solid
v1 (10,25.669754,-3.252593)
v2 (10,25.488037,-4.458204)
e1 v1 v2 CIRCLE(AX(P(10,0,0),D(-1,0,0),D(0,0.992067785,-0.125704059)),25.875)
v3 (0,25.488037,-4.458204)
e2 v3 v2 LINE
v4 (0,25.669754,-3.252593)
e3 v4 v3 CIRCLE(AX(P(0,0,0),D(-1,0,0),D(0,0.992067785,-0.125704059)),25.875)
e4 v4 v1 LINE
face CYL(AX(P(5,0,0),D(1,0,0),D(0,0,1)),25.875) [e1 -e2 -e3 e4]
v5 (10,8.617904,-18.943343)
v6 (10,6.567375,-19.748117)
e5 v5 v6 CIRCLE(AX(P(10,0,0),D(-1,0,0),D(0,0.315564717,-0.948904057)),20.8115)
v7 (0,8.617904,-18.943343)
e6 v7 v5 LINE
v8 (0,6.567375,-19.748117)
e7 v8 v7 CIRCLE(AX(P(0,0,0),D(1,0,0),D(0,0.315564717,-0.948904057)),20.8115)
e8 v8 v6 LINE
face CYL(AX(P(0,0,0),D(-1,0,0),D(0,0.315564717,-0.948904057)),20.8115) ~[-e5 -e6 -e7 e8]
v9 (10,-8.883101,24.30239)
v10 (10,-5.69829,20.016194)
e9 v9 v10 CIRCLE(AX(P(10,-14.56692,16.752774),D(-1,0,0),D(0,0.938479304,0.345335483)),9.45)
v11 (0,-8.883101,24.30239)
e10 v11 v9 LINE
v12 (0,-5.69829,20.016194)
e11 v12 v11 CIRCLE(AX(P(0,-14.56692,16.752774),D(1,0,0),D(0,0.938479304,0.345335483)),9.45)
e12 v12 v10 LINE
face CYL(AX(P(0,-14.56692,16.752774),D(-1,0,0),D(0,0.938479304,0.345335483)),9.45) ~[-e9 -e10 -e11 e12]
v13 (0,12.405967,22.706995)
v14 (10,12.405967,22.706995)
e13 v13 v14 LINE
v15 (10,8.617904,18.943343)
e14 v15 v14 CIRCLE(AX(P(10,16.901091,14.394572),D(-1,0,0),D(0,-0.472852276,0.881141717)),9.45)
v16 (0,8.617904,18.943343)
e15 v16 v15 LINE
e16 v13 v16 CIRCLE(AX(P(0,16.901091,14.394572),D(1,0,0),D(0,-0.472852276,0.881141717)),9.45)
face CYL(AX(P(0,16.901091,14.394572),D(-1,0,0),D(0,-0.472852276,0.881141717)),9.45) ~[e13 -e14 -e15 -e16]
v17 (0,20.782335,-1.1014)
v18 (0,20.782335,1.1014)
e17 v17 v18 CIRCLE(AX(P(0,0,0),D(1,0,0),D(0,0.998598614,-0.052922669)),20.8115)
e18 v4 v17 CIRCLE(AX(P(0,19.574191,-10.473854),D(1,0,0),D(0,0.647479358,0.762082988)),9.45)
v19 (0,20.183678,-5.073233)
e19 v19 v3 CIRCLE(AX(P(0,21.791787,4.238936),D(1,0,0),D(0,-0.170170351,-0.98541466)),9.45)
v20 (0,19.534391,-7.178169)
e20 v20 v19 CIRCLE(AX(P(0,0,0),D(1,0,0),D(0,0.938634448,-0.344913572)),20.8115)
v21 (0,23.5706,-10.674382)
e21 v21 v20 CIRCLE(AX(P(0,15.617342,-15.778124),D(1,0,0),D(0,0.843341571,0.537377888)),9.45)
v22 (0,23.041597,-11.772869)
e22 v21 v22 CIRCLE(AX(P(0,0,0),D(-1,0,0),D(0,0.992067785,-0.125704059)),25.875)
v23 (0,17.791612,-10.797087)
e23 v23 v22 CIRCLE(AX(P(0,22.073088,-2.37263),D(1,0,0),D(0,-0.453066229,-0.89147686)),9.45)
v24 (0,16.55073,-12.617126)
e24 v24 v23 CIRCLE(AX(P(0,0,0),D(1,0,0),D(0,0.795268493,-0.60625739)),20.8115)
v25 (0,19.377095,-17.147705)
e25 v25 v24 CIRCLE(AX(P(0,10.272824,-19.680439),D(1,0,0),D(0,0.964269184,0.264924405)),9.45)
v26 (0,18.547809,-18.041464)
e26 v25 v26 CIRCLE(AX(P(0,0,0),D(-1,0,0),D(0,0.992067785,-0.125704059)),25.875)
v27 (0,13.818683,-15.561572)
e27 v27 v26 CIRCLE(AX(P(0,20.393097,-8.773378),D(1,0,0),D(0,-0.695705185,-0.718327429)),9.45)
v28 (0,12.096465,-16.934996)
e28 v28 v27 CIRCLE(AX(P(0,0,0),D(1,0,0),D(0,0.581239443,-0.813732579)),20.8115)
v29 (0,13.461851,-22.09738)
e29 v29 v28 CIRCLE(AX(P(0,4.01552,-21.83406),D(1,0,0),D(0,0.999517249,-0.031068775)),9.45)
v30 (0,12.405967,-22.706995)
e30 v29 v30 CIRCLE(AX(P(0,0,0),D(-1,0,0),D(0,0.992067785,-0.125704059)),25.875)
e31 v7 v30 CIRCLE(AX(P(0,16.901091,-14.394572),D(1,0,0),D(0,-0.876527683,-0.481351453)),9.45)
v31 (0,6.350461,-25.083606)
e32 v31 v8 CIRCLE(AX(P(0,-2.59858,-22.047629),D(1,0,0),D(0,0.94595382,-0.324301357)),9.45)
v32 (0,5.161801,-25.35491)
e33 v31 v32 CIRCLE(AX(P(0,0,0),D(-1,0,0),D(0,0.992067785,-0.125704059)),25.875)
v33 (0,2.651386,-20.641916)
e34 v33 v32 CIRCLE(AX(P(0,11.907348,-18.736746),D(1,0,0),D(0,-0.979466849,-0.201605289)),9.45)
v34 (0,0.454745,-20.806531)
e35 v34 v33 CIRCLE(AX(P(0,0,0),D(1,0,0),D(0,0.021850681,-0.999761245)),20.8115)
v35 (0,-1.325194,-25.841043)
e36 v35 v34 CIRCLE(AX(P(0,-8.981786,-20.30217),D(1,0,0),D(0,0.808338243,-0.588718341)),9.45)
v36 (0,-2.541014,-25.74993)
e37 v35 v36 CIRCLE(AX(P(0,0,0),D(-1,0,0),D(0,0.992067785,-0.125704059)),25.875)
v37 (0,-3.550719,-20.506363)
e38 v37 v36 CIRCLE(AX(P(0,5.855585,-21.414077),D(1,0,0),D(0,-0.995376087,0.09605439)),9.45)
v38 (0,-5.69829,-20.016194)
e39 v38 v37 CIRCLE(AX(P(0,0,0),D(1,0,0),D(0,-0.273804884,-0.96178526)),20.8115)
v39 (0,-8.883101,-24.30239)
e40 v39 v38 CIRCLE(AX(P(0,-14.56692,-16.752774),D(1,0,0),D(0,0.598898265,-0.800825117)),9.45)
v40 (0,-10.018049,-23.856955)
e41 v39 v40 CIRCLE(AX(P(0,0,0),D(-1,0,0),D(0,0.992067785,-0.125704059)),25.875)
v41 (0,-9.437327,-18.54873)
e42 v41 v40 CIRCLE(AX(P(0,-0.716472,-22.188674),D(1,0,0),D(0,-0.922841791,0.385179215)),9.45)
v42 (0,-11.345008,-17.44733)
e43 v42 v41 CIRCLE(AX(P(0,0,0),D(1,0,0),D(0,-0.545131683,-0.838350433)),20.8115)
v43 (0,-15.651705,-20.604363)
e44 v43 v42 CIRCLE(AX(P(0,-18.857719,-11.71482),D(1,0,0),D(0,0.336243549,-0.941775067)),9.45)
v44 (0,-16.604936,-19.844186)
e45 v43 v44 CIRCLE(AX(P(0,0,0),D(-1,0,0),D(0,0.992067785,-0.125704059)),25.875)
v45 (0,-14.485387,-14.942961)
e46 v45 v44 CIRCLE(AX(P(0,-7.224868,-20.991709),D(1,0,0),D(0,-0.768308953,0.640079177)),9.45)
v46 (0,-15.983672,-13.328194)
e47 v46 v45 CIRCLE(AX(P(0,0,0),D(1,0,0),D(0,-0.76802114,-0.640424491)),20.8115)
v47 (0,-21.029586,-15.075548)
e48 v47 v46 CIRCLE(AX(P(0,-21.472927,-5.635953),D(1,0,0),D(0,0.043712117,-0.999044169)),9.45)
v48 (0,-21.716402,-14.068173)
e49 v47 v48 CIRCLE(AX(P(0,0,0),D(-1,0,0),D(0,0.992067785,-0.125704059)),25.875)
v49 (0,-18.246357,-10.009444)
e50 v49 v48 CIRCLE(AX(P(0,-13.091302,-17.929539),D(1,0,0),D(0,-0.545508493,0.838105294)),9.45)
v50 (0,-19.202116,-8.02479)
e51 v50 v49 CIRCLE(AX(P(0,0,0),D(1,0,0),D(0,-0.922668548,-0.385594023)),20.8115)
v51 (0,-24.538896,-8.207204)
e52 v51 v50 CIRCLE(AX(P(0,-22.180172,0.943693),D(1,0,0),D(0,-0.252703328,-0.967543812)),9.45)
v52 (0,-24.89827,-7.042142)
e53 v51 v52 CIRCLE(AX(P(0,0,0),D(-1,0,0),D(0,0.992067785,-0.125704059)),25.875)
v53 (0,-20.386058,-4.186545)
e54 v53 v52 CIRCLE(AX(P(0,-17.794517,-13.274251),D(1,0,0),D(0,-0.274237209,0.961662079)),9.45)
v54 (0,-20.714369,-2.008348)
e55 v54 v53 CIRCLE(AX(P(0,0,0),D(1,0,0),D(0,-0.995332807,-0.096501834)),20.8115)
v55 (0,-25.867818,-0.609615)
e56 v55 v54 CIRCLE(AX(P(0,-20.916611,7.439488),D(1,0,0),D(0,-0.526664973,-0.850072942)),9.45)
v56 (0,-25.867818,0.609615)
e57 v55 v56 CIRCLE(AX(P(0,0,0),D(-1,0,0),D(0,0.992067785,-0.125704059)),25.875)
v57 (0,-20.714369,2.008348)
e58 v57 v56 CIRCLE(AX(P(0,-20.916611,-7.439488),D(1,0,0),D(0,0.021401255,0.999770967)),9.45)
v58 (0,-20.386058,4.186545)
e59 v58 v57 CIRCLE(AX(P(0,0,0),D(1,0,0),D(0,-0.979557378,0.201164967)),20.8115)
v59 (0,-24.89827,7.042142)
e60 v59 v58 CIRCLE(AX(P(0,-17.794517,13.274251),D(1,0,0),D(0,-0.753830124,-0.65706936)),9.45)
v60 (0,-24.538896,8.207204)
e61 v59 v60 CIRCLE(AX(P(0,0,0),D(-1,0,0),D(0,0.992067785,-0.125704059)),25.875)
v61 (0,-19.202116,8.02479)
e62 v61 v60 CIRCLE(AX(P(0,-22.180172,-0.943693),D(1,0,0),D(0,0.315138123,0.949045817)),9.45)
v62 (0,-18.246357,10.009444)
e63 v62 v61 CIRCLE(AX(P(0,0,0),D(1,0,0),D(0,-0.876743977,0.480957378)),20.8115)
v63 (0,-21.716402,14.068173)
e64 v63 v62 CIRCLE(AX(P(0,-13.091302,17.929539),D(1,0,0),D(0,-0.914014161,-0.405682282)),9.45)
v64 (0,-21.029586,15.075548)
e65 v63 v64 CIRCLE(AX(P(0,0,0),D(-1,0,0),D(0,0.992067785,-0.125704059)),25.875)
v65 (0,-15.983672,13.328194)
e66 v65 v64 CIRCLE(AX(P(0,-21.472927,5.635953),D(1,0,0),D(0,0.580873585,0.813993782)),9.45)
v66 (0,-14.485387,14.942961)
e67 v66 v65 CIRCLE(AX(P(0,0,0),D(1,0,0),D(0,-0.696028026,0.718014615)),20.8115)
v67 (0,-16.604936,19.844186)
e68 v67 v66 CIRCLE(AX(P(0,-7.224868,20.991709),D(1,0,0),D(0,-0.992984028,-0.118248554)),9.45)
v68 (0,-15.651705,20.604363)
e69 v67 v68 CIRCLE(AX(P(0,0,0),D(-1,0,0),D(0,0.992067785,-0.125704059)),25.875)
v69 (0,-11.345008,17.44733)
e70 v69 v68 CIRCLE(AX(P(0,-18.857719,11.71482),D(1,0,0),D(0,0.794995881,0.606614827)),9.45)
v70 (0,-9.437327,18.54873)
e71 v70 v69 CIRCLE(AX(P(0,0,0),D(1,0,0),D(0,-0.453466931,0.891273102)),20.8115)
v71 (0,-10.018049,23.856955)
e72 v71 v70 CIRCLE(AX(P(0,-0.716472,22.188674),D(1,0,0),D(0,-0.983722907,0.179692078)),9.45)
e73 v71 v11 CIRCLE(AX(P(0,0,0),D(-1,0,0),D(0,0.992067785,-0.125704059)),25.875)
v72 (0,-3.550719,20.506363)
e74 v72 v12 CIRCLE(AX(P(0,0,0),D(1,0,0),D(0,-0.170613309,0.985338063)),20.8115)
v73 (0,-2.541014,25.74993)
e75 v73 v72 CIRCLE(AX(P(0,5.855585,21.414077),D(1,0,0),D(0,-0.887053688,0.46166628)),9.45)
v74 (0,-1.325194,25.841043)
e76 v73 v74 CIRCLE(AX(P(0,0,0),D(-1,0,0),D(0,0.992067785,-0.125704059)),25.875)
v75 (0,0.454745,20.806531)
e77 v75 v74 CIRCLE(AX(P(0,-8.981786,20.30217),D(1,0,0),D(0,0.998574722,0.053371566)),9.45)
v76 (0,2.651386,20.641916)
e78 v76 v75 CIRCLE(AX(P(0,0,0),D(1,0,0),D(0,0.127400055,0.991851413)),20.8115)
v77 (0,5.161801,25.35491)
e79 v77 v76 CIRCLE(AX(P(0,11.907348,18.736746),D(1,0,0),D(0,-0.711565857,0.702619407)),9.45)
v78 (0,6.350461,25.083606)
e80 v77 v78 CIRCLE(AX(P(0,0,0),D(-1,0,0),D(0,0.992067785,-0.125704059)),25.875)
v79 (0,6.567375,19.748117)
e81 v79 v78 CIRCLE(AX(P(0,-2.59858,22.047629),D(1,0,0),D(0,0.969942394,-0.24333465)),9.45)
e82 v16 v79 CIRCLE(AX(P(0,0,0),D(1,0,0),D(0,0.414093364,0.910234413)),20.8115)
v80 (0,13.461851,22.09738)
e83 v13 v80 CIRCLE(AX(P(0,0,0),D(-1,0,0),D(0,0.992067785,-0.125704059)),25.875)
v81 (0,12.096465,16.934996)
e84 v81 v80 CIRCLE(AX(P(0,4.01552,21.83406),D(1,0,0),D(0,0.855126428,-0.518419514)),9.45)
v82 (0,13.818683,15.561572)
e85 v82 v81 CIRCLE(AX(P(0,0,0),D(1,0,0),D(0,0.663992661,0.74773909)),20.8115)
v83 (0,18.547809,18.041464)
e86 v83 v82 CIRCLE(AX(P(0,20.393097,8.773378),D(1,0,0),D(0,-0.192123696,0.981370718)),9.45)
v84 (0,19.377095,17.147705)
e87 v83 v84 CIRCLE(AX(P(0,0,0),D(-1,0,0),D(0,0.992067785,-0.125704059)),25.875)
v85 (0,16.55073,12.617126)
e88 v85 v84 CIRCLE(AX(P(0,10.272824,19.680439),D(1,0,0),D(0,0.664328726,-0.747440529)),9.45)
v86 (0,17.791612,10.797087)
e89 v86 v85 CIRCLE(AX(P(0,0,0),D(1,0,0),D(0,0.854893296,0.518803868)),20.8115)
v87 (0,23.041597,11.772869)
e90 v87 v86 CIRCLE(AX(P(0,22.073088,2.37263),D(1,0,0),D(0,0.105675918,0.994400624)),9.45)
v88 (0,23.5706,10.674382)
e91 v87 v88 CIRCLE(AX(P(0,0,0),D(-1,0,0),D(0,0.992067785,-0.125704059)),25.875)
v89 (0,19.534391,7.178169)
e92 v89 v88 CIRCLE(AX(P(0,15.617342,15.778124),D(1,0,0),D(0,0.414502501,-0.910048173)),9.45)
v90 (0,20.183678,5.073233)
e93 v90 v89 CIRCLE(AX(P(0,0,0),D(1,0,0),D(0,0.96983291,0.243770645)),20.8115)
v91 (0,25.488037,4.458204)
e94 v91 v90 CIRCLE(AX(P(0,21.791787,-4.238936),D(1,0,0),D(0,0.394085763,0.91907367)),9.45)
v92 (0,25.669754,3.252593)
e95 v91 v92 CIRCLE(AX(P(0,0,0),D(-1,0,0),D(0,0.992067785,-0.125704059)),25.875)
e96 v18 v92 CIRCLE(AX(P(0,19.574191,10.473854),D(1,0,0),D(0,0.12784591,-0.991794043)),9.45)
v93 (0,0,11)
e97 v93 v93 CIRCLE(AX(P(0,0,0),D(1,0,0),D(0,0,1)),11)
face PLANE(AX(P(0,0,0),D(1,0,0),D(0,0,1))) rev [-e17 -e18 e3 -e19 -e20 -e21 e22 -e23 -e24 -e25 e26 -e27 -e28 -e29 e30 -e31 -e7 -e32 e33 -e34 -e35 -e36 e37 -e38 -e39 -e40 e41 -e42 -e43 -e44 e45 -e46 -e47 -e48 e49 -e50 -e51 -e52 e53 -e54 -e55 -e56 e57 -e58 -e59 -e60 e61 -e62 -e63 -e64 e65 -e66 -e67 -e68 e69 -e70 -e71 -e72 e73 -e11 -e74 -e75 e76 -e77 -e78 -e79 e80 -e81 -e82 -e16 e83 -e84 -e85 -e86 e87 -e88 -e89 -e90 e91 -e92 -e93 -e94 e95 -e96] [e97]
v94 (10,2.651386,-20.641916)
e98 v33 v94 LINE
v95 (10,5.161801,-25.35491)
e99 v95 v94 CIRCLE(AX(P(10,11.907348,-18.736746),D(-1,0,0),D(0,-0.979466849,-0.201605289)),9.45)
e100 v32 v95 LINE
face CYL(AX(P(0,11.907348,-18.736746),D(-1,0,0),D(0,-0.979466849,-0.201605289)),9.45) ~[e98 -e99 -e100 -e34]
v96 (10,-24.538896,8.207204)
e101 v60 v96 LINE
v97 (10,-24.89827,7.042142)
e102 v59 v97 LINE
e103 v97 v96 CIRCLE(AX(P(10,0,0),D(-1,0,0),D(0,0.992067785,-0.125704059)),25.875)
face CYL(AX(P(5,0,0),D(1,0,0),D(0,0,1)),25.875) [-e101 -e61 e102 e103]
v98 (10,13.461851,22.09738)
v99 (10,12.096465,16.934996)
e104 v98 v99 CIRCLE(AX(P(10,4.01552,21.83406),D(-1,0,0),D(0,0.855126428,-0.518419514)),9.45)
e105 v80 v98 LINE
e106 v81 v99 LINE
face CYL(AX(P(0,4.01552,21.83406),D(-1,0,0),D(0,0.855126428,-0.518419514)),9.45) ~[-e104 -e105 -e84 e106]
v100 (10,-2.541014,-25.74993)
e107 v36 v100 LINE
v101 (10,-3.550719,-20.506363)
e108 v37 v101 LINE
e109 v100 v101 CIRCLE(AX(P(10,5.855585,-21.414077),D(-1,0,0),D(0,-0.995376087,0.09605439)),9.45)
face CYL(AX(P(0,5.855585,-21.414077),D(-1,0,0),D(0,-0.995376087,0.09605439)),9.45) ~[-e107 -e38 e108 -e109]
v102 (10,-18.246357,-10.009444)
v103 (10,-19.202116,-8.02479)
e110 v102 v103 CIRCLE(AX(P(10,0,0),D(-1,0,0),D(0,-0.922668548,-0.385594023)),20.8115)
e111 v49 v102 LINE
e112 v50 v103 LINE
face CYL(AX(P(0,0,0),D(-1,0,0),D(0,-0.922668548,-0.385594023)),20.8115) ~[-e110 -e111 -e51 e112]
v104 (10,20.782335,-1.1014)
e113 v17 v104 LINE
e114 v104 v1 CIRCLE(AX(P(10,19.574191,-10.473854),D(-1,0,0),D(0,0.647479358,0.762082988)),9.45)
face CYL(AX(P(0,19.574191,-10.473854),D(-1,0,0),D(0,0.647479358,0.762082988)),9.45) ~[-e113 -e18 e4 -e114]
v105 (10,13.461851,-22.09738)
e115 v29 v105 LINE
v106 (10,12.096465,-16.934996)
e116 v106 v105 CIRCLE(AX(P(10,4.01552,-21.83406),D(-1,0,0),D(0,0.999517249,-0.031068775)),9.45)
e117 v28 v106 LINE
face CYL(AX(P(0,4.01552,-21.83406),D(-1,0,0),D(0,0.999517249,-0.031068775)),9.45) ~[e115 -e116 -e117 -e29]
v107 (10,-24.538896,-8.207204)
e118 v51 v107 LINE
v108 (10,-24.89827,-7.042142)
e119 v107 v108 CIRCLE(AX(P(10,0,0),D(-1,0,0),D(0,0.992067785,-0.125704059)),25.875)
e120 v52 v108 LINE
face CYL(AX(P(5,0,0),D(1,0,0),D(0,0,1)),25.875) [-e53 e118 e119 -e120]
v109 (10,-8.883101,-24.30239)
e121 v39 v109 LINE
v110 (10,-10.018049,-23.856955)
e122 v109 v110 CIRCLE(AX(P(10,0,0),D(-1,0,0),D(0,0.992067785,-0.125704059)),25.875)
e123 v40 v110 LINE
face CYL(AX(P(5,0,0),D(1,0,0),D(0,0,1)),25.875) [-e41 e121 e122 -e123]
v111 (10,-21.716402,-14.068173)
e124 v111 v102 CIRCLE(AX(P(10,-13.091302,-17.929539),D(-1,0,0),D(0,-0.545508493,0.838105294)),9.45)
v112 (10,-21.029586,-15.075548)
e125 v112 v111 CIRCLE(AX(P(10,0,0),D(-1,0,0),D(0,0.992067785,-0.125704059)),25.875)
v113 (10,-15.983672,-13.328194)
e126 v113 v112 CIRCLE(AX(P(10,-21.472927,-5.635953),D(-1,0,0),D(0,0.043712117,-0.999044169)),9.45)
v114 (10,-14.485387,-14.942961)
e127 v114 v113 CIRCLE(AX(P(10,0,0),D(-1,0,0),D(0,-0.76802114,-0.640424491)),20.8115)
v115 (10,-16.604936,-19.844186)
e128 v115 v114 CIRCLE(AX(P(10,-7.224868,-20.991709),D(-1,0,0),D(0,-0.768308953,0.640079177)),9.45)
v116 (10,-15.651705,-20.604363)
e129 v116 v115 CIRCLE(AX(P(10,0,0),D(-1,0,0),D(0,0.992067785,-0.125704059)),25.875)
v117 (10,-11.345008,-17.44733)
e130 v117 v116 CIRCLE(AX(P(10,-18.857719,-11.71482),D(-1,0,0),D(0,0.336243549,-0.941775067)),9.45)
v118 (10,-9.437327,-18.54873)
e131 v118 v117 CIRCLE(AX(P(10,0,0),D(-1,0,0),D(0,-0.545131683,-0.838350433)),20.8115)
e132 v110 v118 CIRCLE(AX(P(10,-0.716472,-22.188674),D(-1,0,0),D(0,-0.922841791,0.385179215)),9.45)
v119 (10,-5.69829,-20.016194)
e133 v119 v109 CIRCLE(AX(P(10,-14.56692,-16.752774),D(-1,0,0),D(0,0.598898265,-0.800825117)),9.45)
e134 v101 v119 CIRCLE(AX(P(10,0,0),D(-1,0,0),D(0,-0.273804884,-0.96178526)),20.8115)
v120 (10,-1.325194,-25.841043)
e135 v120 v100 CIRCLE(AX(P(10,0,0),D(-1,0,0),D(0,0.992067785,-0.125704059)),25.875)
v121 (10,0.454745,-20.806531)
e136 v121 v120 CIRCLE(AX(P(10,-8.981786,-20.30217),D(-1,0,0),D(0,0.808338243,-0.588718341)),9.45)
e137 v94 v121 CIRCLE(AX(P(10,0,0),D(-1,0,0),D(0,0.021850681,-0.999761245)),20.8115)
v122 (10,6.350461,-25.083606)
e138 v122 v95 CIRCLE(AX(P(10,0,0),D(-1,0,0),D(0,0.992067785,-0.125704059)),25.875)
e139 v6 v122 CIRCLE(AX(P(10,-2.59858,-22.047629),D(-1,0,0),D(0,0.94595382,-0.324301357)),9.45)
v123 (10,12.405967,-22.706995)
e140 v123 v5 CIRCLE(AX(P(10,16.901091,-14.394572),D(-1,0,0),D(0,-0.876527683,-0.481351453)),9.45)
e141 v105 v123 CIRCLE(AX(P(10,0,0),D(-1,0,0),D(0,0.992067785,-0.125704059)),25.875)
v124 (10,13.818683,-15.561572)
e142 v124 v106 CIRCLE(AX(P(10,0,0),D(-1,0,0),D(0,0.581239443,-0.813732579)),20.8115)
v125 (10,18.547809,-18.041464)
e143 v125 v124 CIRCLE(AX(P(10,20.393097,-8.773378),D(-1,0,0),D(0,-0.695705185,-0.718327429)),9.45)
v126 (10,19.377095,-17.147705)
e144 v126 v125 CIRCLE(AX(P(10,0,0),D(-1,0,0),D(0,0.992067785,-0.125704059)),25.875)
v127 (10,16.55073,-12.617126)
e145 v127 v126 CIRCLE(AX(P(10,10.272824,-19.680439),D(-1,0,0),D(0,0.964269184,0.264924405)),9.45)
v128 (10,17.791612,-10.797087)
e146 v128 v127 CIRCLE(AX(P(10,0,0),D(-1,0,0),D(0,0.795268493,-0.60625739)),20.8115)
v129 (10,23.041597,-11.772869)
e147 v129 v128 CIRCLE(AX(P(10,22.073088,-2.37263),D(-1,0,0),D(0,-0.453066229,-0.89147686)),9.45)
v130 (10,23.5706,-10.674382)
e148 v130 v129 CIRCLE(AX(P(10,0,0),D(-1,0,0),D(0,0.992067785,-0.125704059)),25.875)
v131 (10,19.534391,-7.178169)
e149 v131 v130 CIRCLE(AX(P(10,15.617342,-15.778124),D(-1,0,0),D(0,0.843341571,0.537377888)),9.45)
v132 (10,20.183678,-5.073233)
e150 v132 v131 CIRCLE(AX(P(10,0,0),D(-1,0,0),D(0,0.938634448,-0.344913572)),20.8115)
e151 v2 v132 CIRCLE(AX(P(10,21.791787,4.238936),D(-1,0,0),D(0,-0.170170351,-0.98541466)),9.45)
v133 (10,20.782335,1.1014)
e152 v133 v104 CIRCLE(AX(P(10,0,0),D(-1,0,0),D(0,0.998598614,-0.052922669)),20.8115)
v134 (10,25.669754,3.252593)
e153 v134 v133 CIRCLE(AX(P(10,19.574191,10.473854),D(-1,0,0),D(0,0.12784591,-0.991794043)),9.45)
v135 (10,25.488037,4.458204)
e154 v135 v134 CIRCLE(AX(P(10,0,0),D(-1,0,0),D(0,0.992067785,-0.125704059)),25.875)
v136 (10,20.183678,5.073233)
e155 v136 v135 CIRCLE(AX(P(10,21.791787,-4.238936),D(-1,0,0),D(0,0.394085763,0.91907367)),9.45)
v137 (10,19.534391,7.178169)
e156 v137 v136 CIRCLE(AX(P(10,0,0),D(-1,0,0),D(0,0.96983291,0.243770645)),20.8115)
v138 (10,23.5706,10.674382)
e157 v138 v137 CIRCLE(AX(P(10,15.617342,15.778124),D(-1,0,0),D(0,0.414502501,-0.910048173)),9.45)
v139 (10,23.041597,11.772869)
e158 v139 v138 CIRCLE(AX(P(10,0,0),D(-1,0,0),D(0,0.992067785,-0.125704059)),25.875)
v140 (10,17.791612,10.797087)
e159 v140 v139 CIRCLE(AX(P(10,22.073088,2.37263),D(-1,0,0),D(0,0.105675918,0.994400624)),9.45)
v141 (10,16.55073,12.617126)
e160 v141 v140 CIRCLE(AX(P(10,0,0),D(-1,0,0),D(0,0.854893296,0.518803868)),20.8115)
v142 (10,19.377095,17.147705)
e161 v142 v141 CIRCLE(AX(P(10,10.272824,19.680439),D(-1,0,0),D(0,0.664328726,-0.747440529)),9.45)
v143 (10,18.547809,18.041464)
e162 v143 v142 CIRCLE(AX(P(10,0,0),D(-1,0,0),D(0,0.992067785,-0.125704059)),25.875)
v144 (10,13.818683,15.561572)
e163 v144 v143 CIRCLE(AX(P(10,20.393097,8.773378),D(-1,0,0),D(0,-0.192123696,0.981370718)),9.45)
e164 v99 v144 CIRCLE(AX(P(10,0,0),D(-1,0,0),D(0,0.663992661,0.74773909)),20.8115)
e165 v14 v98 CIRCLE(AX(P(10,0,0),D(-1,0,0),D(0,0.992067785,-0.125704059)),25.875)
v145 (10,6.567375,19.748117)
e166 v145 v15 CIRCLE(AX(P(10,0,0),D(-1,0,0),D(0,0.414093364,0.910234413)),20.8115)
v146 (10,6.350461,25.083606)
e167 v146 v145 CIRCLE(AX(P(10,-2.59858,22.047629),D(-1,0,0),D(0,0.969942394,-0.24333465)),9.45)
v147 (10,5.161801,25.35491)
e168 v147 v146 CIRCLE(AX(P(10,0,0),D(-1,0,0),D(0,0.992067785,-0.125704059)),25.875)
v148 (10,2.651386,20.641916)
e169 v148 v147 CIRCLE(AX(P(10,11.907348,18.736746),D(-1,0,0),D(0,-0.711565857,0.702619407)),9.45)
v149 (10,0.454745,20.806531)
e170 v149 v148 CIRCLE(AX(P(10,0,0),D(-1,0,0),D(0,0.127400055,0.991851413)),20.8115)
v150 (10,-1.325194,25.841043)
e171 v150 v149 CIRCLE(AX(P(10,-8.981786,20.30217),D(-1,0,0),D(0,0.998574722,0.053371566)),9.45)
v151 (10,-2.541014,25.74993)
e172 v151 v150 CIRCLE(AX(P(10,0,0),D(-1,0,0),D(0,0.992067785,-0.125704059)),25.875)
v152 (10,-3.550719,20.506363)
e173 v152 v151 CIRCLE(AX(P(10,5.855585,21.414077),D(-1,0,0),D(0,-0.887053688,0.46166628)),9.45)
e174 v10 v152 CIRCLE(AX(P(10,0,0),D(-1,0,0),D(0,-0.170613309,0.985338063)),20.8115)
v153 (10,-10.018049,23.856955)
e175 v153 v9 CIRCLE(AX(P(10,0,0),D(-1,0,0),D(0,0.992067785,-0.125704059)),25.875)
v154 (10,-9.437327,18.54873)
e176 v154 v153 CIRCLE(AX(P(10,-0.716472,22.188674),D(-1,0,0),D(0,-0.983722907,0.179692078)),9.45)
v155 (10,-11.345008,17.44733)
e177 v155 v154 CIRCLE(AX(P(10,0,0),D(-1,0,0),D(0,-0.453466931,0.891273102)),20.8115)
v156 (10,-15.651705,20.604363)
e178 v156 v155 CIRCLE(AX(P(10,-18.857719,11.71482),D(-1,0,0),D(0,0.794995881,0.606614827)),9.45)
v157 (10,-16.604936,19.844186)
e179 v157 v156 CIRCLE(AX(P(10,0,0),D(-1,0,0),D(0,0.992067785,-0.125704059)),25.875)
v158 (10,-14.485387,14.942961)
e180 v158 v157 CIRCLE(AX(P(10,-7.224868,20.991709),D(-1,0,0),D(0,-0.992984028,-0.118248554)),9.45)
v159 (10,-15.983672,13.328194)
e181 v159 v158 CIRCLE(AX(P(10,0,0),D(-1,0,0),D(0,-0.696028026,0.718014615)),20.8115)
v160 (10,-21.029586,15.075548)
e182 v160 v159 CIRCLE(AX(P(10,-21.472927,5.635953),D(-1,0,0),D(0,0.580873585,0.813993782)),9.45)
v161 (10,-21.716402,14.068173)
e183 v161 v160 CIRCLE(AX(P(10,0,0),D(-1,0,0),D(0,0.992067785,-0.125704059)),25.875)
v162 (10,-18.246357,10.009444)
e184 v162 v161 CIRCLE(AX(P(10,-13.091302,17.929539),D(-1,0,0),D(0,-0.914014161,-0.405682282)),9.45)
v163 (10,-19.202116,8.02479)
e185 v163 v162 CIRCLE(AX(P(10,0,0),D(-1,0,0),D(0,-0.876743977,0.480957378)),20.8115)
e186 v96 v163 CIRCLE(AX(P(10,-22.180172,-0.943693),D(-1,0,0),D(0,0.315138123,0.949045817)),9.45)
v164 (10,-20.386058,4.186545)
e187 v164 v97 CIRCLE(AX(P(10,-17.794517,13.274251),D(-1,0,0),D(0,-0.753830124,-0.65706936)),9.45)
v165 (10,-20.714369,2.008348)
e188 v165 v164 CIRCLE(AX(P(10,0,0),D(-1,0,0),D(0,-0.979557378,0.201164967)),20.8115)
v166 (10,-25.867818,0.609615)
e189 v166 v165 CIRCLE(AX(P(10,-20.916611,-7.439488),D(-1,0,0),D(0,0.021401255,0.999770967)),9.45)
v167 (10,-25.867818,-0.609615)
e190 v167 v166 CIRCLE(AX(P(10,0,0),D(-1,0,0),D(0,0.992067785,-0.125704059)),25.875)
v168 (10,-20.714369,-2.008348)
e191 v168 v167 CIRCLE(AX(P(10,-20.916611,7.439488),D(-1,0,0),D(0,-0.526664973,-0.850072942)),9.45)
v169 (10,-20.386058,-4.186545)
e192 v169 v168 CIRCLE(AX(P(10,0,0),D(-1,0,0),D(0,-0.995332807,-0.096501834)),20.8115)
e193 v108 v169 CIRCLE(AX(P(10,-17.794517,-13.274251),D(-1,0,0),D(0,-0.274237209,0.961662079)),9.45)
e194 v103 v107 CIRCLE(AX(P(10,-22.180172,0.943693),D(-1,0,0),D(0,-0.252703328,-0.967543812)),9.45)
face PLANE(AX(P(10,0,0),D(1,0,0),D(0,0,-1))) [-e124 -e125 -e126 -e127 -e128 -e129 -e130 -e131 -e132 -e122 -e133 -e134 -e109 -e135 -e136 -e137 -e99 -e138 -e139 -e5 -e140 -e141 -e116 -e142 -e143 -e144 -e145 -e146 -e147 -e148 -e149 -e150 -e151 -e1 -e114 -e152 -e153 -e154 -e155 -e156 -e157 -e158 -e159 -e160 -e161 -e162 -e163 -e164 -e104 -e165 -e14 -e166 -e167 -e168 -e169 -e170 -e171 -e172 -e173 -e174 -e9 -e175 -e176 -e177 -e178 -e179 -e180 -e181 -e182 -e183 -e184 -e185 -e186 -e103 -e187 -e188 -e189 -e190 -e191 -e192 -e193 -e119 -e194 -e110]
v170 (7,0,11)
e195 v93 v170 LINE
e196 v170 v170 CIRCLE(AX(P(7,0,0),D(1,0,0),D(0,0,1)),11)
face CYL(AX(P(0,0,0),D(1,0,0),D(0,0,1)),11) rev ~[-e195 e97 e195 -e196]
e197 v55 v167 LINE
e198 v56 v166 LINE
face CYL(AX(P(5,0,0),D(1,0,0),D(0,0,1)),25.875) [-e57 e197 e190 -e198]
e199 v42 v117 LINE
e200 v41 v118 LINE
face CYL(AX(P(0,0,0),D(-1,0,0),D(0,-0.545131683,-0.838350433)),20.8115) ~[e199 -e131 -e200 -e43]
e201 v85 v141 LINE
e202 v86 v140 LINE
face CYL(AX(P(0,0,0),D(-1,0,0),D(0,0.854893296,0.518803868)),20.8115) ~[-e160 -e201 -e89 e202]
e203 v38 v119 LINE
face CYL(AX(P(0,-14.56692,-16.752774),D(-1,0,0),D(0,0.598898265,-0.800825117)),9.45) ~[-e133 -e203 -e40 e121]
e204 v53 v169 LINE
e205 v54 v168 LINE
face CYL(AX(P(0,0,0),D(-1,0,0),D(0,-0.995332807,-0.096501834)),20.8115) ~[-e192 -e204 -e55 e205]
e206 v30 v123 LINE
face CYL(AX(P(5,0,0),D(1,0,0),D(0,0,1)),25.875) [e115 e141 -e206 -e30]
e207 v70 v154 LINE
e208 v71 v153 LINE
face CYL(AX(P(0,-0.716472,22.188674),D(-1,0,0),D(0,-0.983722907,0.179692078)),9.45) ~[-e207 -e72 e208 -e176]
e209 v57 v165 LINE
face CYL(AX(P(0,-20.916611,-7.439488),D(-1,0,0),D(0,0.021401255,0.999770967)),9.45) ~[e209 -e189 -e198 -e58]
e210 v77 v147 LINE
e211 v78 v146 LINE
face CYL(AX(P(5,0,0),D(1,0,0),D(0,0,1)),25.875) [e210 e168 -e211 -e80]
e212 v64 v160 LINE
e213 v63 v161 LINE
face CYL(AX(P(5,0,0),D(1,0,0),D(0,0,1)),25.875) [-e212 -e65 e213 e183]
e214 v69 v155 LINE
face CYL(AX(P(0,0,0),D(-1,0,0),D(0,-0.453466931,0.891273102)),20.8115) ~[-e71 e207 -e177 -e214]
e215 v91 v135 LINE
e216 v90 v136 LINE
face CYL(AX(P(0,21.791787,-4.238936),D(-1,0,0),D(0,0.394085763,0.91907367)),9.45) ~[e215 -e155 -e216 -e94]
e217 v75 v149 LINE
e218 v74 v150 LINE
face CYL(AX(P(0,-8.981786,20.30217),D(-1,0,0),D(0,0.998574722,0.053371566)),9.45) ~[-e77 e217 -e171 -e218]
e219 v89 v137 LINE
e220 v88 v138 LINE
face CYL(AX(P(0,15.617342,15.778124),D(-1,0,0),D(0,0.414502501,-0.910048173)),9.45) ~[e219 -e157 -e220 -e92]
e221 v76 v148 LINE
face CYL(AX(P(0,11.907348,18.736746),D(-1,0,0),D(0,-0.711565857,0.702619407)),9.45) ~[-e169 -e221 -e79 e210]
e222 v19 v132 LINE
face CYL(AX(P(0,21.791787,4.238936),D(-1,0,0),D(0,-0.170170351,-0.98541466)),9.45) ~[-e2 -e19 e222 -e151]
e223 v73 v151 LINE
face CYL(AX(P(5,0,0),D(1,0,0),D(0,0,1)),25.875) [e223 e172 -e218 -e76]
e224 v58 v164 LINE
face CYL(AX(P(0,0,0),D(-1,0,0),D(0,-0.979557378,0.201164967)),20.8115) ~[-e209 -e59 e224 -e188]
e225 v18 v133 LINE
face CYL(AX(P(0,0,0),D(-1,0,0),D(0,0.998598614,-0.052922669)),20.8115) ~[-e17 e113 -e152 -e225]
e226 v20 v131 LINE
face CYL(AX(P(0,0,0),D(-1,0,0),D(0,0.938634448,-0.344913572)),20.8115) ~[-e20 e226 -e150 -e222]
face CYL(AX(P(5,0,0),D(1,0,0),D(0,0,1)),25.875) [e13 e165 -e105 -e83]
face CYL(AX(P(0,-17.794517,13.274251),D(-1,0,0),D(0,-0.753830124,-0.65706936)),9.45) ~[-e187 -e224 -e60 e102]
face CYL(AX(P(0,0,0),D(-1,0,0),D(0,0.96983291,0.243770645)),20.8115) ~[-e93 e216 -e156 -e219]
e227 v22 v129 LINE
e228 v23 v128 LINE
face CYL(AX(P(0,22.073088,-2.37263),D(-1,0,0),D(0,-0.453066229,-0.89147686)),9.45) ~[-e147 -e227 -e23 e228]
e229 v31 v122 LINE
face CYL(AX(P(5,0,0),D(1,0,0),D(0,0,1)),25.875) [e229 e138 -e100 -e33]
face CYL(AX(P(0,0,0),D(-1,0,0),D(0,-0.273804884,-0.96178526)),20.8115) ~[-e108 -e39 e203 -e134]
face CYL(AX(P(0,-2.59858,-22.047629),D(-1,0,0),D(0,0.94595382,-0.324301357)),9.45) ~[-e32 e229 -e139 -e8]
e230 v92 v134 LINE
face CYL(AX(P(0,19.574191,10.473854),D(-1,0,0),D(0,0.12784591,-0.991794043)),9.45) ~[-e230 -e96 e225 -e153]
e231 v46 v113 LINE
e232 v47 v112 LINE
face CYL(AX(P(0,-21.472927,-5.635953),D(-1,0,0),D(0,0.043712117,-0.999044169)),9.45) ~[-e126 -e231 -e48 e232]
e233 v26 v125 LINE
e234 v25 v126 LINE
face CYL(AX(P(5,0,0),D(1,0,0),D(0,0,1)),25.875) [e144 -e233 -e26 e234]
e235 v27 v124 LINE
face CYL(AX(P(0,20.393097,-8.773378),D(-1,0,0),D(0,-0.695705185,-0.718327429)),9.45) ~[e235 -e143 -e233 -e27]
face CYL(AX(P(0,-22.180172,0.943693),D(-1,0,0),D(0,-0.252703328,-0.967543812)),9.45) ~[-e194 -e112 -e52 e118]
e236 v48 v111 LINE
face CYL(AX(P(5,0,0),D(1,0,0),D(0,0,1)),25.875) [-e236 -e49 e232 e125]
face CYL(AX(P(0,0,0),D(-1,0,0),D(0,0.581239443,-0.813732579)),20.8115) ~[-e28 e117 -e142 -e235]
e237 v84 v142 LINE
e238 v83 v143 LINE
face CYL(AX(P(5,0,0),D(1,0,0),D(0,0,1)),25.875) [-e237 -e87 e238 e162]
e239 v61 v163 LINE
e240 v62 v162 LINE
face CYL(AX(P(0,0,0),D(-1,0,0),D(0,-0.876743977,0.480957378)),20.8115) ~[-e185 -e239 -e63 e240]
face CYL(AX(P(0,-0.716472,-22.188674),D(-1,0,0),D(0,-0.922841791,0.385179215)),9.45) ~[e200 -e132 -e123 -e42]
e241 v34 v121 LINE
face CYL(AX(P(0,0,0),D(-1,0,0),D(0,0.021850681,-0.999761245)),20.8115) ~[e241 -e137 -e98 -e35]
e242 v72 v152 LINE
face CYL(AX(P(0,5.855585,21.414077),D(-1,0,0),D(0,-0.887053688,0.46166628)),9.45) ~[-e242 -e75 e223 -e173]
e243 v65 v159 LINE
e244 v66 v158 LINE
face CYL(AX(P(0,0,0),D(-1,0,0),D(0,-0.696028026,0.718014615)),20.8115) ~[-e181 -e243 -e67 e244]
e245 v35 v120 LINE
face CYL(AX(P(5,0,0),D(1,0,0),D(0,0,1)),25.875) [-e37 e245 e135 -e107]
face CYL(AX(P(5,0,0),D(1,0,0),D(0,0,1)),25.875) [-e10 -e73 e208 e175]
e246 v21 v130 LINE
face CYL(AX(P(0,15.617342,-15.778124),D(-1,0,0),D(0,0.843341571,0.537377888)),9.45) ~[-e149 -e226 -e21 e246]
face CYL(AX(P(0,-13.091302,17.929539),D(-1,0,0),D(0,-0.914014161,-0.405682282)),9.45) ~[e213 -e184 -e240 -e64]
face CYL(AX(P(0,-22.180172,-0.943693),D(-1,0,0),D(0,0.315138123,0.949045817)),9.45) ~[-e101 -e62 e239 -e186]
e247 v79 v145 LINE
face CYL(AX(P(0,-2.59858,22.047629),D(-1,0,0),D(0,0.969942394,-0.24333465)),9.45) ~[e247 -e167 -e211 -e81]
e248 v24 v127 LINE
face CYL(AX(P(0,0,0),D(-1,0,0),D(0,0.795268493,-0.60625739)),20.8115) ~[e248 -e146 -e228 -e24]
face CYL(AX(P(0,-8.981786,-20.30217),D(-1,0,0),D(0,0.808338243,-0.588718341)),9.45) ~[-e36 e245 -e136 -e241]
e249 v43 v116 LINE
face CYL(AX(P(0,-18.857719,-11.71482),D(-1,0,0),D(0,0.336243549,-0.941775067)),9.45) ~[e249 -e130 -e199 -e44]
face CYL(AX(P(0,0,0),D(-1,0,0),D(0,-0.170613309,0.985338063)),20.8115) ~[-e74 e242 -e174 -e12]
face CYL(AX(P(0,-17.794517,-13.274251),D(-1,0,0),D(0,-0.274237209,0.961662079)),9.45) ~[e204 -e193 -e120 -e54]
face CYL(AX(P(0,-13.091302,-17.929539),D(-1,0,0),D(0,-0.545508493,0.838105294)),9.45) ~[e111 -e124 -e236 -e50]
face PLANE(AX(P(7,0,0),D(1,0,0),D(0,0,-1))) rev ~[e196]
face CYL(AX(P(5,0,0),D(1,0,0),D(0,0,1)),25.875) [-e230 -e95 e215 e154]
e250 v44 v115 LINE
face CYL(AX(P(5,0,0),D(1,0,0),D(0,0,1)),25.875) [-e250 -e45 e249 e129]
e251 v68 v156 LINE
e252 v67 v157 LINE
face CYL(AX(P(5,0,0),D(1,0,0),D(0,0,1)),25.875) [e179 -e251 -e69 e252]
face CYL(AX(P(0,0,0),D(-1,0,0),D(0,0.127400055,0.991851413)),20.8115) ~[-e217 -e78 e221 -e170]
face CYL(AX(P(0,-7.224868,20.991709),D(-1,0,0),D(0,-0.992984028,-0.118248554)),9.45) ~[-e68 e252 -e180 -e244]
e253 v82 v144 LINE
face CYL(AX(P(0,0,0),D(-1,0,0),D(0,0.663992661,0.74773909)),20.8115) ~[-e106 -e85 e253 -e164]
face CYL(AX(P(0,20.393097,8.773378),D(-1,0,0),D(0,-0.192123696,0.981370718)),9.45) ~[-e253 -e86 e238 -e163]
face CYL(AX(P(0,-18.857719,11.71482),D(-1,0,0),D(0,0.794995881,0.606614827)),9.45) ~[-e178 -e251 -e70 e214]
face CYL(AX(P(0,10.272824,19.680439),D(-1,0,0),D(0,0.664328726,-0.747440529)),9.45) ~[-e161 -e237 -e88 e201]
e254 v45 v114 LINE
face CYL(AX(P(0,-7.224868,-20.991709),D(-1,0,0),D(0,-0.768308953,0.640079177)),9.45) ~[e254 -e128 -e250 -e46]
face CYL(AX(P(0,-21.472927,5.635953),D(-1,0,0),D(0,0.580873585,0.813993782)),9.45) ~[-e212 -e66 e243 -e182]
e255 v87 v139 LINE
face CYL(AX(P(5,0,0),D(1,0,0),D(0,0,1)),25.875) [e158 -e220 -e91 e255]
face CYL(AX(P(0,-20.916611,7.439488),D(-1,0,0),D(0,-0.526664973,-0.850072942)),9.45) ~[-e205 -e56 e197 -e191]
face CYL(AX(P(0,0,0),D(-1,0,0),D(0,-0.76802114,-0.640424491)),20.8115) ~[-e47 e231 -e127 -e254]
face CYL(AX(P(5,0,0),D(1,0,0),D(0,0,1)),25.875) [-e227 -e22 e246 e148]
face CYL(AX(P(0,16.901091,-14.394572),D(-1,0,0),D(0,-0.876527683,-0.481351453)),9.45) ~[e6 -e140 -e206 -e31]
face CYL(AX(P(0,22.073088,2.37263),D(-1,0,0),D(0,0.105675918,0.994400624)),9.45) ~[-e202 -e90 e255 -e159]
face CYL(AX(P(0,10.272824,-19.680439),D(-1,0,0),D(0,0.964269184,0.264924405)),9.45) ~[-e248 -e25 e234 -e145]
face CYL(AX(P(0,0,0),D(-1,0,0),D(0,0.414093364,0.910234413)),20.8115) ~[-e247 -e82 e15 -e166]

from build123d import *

# Parameters (mm, degrees)
BASPROSKE_W         = 10
BASPROSKE_H         = 25.875
TOOTHCUT_DEPTH      = 38.934565372
TEETHCUTS_COUNT     = 21
TEETHCUTS_ANGLE     = 342.857142857
BORSKE_R            = 11
BORE_DEPTH          = 50.0000508
SKETCH2_R           = 11
BOSS_EXTRUDE2_DEPTH = 3


with BuildPart() as part:
    # BasProSke → Base-Revolve (revolve)
    with BuildSketch(Plane(origin=(0, 0, 0), x_dir=(1, 0, 0), z_dir=(0, 1, 0)), mode=Mode.PRIVATE) as base_revolve_sk:
        with Locations((5, 12.9375)):
            Rectangle(BASPROSKE_W, BASPROSKE_H)
    revolve(base_revolve_sk.sketch.rotate(Axis((-10, 0, 0), (1, 0, 0)), 180), axis=Axis((-10, 0, 0), (1, 0, 0)))

    # TooCutSke → ToothCut (cut, through all)
    with BuildSketch(Plane(origin=(0, 0, 0), x_dir=(0, 0, -1), z_dir=(1, 0, 0))):
        with BuildLine():
            ThreePointArc((1.101400125, 20.782335047), (0, 20.8115), (-1.101400125, 20.782335047))
            ThreePointArc((-1.101400125, 20.782335047), (-1.83071474, 23.395008735), (-3.272169586, 25.692871119))
            ThreePointArc((-3.272169586, 25.692871119), (0, 25.9004), (3.272169586, 25.692871119))
            ThreePointArc((3.272169586, 25.692871119), (1.83071474, 23.395008735), (1.101400125, 20.782335047))
        make_face()
    toothcut = extrude(amount=TOOTHCUT_DEPTH, mode=Mode.SUBTRACT)

    # TeethCuts: ToothCut ×21 about axis
    teethcuts_axis = Axis((-10, 0, 0), (1, 0, 0))
    for i in range(1, TEETHCUTS_COUNT):
        add(toothcut.rotate(teethcuts_axis, i * TEETHCUTS_ANGLE / (TEETHCUTS_COUNT - 1)), mode=Mode.SUBTRACT)

    # BorSke → Bore (cut, symmetric)
    with BuildSketch(Plane(origin=(0, 0, 0), x_dir=(0, 0, -1), z_dir=(1, 0, 0))):
        with Locations(Location((0, 0, 0), (0, 0, 180))):
            Circle(BORSKE_R)
    extrude(amount=BORE_DEPTH, both=True, mode=Mode.SUBTRACT)

    # Sketch2 → Boss-Extrude2 (add)
    with BuildSketch(Plane(origin=(10, 0, 0), x_dir=(0, 0, -1), z_dir=(1, 0, 0))):
        Circle(SKETCH2_R)
    extrude(amount=-BOSS_EXTRUDE2_DEPTH)


solid = part.part
